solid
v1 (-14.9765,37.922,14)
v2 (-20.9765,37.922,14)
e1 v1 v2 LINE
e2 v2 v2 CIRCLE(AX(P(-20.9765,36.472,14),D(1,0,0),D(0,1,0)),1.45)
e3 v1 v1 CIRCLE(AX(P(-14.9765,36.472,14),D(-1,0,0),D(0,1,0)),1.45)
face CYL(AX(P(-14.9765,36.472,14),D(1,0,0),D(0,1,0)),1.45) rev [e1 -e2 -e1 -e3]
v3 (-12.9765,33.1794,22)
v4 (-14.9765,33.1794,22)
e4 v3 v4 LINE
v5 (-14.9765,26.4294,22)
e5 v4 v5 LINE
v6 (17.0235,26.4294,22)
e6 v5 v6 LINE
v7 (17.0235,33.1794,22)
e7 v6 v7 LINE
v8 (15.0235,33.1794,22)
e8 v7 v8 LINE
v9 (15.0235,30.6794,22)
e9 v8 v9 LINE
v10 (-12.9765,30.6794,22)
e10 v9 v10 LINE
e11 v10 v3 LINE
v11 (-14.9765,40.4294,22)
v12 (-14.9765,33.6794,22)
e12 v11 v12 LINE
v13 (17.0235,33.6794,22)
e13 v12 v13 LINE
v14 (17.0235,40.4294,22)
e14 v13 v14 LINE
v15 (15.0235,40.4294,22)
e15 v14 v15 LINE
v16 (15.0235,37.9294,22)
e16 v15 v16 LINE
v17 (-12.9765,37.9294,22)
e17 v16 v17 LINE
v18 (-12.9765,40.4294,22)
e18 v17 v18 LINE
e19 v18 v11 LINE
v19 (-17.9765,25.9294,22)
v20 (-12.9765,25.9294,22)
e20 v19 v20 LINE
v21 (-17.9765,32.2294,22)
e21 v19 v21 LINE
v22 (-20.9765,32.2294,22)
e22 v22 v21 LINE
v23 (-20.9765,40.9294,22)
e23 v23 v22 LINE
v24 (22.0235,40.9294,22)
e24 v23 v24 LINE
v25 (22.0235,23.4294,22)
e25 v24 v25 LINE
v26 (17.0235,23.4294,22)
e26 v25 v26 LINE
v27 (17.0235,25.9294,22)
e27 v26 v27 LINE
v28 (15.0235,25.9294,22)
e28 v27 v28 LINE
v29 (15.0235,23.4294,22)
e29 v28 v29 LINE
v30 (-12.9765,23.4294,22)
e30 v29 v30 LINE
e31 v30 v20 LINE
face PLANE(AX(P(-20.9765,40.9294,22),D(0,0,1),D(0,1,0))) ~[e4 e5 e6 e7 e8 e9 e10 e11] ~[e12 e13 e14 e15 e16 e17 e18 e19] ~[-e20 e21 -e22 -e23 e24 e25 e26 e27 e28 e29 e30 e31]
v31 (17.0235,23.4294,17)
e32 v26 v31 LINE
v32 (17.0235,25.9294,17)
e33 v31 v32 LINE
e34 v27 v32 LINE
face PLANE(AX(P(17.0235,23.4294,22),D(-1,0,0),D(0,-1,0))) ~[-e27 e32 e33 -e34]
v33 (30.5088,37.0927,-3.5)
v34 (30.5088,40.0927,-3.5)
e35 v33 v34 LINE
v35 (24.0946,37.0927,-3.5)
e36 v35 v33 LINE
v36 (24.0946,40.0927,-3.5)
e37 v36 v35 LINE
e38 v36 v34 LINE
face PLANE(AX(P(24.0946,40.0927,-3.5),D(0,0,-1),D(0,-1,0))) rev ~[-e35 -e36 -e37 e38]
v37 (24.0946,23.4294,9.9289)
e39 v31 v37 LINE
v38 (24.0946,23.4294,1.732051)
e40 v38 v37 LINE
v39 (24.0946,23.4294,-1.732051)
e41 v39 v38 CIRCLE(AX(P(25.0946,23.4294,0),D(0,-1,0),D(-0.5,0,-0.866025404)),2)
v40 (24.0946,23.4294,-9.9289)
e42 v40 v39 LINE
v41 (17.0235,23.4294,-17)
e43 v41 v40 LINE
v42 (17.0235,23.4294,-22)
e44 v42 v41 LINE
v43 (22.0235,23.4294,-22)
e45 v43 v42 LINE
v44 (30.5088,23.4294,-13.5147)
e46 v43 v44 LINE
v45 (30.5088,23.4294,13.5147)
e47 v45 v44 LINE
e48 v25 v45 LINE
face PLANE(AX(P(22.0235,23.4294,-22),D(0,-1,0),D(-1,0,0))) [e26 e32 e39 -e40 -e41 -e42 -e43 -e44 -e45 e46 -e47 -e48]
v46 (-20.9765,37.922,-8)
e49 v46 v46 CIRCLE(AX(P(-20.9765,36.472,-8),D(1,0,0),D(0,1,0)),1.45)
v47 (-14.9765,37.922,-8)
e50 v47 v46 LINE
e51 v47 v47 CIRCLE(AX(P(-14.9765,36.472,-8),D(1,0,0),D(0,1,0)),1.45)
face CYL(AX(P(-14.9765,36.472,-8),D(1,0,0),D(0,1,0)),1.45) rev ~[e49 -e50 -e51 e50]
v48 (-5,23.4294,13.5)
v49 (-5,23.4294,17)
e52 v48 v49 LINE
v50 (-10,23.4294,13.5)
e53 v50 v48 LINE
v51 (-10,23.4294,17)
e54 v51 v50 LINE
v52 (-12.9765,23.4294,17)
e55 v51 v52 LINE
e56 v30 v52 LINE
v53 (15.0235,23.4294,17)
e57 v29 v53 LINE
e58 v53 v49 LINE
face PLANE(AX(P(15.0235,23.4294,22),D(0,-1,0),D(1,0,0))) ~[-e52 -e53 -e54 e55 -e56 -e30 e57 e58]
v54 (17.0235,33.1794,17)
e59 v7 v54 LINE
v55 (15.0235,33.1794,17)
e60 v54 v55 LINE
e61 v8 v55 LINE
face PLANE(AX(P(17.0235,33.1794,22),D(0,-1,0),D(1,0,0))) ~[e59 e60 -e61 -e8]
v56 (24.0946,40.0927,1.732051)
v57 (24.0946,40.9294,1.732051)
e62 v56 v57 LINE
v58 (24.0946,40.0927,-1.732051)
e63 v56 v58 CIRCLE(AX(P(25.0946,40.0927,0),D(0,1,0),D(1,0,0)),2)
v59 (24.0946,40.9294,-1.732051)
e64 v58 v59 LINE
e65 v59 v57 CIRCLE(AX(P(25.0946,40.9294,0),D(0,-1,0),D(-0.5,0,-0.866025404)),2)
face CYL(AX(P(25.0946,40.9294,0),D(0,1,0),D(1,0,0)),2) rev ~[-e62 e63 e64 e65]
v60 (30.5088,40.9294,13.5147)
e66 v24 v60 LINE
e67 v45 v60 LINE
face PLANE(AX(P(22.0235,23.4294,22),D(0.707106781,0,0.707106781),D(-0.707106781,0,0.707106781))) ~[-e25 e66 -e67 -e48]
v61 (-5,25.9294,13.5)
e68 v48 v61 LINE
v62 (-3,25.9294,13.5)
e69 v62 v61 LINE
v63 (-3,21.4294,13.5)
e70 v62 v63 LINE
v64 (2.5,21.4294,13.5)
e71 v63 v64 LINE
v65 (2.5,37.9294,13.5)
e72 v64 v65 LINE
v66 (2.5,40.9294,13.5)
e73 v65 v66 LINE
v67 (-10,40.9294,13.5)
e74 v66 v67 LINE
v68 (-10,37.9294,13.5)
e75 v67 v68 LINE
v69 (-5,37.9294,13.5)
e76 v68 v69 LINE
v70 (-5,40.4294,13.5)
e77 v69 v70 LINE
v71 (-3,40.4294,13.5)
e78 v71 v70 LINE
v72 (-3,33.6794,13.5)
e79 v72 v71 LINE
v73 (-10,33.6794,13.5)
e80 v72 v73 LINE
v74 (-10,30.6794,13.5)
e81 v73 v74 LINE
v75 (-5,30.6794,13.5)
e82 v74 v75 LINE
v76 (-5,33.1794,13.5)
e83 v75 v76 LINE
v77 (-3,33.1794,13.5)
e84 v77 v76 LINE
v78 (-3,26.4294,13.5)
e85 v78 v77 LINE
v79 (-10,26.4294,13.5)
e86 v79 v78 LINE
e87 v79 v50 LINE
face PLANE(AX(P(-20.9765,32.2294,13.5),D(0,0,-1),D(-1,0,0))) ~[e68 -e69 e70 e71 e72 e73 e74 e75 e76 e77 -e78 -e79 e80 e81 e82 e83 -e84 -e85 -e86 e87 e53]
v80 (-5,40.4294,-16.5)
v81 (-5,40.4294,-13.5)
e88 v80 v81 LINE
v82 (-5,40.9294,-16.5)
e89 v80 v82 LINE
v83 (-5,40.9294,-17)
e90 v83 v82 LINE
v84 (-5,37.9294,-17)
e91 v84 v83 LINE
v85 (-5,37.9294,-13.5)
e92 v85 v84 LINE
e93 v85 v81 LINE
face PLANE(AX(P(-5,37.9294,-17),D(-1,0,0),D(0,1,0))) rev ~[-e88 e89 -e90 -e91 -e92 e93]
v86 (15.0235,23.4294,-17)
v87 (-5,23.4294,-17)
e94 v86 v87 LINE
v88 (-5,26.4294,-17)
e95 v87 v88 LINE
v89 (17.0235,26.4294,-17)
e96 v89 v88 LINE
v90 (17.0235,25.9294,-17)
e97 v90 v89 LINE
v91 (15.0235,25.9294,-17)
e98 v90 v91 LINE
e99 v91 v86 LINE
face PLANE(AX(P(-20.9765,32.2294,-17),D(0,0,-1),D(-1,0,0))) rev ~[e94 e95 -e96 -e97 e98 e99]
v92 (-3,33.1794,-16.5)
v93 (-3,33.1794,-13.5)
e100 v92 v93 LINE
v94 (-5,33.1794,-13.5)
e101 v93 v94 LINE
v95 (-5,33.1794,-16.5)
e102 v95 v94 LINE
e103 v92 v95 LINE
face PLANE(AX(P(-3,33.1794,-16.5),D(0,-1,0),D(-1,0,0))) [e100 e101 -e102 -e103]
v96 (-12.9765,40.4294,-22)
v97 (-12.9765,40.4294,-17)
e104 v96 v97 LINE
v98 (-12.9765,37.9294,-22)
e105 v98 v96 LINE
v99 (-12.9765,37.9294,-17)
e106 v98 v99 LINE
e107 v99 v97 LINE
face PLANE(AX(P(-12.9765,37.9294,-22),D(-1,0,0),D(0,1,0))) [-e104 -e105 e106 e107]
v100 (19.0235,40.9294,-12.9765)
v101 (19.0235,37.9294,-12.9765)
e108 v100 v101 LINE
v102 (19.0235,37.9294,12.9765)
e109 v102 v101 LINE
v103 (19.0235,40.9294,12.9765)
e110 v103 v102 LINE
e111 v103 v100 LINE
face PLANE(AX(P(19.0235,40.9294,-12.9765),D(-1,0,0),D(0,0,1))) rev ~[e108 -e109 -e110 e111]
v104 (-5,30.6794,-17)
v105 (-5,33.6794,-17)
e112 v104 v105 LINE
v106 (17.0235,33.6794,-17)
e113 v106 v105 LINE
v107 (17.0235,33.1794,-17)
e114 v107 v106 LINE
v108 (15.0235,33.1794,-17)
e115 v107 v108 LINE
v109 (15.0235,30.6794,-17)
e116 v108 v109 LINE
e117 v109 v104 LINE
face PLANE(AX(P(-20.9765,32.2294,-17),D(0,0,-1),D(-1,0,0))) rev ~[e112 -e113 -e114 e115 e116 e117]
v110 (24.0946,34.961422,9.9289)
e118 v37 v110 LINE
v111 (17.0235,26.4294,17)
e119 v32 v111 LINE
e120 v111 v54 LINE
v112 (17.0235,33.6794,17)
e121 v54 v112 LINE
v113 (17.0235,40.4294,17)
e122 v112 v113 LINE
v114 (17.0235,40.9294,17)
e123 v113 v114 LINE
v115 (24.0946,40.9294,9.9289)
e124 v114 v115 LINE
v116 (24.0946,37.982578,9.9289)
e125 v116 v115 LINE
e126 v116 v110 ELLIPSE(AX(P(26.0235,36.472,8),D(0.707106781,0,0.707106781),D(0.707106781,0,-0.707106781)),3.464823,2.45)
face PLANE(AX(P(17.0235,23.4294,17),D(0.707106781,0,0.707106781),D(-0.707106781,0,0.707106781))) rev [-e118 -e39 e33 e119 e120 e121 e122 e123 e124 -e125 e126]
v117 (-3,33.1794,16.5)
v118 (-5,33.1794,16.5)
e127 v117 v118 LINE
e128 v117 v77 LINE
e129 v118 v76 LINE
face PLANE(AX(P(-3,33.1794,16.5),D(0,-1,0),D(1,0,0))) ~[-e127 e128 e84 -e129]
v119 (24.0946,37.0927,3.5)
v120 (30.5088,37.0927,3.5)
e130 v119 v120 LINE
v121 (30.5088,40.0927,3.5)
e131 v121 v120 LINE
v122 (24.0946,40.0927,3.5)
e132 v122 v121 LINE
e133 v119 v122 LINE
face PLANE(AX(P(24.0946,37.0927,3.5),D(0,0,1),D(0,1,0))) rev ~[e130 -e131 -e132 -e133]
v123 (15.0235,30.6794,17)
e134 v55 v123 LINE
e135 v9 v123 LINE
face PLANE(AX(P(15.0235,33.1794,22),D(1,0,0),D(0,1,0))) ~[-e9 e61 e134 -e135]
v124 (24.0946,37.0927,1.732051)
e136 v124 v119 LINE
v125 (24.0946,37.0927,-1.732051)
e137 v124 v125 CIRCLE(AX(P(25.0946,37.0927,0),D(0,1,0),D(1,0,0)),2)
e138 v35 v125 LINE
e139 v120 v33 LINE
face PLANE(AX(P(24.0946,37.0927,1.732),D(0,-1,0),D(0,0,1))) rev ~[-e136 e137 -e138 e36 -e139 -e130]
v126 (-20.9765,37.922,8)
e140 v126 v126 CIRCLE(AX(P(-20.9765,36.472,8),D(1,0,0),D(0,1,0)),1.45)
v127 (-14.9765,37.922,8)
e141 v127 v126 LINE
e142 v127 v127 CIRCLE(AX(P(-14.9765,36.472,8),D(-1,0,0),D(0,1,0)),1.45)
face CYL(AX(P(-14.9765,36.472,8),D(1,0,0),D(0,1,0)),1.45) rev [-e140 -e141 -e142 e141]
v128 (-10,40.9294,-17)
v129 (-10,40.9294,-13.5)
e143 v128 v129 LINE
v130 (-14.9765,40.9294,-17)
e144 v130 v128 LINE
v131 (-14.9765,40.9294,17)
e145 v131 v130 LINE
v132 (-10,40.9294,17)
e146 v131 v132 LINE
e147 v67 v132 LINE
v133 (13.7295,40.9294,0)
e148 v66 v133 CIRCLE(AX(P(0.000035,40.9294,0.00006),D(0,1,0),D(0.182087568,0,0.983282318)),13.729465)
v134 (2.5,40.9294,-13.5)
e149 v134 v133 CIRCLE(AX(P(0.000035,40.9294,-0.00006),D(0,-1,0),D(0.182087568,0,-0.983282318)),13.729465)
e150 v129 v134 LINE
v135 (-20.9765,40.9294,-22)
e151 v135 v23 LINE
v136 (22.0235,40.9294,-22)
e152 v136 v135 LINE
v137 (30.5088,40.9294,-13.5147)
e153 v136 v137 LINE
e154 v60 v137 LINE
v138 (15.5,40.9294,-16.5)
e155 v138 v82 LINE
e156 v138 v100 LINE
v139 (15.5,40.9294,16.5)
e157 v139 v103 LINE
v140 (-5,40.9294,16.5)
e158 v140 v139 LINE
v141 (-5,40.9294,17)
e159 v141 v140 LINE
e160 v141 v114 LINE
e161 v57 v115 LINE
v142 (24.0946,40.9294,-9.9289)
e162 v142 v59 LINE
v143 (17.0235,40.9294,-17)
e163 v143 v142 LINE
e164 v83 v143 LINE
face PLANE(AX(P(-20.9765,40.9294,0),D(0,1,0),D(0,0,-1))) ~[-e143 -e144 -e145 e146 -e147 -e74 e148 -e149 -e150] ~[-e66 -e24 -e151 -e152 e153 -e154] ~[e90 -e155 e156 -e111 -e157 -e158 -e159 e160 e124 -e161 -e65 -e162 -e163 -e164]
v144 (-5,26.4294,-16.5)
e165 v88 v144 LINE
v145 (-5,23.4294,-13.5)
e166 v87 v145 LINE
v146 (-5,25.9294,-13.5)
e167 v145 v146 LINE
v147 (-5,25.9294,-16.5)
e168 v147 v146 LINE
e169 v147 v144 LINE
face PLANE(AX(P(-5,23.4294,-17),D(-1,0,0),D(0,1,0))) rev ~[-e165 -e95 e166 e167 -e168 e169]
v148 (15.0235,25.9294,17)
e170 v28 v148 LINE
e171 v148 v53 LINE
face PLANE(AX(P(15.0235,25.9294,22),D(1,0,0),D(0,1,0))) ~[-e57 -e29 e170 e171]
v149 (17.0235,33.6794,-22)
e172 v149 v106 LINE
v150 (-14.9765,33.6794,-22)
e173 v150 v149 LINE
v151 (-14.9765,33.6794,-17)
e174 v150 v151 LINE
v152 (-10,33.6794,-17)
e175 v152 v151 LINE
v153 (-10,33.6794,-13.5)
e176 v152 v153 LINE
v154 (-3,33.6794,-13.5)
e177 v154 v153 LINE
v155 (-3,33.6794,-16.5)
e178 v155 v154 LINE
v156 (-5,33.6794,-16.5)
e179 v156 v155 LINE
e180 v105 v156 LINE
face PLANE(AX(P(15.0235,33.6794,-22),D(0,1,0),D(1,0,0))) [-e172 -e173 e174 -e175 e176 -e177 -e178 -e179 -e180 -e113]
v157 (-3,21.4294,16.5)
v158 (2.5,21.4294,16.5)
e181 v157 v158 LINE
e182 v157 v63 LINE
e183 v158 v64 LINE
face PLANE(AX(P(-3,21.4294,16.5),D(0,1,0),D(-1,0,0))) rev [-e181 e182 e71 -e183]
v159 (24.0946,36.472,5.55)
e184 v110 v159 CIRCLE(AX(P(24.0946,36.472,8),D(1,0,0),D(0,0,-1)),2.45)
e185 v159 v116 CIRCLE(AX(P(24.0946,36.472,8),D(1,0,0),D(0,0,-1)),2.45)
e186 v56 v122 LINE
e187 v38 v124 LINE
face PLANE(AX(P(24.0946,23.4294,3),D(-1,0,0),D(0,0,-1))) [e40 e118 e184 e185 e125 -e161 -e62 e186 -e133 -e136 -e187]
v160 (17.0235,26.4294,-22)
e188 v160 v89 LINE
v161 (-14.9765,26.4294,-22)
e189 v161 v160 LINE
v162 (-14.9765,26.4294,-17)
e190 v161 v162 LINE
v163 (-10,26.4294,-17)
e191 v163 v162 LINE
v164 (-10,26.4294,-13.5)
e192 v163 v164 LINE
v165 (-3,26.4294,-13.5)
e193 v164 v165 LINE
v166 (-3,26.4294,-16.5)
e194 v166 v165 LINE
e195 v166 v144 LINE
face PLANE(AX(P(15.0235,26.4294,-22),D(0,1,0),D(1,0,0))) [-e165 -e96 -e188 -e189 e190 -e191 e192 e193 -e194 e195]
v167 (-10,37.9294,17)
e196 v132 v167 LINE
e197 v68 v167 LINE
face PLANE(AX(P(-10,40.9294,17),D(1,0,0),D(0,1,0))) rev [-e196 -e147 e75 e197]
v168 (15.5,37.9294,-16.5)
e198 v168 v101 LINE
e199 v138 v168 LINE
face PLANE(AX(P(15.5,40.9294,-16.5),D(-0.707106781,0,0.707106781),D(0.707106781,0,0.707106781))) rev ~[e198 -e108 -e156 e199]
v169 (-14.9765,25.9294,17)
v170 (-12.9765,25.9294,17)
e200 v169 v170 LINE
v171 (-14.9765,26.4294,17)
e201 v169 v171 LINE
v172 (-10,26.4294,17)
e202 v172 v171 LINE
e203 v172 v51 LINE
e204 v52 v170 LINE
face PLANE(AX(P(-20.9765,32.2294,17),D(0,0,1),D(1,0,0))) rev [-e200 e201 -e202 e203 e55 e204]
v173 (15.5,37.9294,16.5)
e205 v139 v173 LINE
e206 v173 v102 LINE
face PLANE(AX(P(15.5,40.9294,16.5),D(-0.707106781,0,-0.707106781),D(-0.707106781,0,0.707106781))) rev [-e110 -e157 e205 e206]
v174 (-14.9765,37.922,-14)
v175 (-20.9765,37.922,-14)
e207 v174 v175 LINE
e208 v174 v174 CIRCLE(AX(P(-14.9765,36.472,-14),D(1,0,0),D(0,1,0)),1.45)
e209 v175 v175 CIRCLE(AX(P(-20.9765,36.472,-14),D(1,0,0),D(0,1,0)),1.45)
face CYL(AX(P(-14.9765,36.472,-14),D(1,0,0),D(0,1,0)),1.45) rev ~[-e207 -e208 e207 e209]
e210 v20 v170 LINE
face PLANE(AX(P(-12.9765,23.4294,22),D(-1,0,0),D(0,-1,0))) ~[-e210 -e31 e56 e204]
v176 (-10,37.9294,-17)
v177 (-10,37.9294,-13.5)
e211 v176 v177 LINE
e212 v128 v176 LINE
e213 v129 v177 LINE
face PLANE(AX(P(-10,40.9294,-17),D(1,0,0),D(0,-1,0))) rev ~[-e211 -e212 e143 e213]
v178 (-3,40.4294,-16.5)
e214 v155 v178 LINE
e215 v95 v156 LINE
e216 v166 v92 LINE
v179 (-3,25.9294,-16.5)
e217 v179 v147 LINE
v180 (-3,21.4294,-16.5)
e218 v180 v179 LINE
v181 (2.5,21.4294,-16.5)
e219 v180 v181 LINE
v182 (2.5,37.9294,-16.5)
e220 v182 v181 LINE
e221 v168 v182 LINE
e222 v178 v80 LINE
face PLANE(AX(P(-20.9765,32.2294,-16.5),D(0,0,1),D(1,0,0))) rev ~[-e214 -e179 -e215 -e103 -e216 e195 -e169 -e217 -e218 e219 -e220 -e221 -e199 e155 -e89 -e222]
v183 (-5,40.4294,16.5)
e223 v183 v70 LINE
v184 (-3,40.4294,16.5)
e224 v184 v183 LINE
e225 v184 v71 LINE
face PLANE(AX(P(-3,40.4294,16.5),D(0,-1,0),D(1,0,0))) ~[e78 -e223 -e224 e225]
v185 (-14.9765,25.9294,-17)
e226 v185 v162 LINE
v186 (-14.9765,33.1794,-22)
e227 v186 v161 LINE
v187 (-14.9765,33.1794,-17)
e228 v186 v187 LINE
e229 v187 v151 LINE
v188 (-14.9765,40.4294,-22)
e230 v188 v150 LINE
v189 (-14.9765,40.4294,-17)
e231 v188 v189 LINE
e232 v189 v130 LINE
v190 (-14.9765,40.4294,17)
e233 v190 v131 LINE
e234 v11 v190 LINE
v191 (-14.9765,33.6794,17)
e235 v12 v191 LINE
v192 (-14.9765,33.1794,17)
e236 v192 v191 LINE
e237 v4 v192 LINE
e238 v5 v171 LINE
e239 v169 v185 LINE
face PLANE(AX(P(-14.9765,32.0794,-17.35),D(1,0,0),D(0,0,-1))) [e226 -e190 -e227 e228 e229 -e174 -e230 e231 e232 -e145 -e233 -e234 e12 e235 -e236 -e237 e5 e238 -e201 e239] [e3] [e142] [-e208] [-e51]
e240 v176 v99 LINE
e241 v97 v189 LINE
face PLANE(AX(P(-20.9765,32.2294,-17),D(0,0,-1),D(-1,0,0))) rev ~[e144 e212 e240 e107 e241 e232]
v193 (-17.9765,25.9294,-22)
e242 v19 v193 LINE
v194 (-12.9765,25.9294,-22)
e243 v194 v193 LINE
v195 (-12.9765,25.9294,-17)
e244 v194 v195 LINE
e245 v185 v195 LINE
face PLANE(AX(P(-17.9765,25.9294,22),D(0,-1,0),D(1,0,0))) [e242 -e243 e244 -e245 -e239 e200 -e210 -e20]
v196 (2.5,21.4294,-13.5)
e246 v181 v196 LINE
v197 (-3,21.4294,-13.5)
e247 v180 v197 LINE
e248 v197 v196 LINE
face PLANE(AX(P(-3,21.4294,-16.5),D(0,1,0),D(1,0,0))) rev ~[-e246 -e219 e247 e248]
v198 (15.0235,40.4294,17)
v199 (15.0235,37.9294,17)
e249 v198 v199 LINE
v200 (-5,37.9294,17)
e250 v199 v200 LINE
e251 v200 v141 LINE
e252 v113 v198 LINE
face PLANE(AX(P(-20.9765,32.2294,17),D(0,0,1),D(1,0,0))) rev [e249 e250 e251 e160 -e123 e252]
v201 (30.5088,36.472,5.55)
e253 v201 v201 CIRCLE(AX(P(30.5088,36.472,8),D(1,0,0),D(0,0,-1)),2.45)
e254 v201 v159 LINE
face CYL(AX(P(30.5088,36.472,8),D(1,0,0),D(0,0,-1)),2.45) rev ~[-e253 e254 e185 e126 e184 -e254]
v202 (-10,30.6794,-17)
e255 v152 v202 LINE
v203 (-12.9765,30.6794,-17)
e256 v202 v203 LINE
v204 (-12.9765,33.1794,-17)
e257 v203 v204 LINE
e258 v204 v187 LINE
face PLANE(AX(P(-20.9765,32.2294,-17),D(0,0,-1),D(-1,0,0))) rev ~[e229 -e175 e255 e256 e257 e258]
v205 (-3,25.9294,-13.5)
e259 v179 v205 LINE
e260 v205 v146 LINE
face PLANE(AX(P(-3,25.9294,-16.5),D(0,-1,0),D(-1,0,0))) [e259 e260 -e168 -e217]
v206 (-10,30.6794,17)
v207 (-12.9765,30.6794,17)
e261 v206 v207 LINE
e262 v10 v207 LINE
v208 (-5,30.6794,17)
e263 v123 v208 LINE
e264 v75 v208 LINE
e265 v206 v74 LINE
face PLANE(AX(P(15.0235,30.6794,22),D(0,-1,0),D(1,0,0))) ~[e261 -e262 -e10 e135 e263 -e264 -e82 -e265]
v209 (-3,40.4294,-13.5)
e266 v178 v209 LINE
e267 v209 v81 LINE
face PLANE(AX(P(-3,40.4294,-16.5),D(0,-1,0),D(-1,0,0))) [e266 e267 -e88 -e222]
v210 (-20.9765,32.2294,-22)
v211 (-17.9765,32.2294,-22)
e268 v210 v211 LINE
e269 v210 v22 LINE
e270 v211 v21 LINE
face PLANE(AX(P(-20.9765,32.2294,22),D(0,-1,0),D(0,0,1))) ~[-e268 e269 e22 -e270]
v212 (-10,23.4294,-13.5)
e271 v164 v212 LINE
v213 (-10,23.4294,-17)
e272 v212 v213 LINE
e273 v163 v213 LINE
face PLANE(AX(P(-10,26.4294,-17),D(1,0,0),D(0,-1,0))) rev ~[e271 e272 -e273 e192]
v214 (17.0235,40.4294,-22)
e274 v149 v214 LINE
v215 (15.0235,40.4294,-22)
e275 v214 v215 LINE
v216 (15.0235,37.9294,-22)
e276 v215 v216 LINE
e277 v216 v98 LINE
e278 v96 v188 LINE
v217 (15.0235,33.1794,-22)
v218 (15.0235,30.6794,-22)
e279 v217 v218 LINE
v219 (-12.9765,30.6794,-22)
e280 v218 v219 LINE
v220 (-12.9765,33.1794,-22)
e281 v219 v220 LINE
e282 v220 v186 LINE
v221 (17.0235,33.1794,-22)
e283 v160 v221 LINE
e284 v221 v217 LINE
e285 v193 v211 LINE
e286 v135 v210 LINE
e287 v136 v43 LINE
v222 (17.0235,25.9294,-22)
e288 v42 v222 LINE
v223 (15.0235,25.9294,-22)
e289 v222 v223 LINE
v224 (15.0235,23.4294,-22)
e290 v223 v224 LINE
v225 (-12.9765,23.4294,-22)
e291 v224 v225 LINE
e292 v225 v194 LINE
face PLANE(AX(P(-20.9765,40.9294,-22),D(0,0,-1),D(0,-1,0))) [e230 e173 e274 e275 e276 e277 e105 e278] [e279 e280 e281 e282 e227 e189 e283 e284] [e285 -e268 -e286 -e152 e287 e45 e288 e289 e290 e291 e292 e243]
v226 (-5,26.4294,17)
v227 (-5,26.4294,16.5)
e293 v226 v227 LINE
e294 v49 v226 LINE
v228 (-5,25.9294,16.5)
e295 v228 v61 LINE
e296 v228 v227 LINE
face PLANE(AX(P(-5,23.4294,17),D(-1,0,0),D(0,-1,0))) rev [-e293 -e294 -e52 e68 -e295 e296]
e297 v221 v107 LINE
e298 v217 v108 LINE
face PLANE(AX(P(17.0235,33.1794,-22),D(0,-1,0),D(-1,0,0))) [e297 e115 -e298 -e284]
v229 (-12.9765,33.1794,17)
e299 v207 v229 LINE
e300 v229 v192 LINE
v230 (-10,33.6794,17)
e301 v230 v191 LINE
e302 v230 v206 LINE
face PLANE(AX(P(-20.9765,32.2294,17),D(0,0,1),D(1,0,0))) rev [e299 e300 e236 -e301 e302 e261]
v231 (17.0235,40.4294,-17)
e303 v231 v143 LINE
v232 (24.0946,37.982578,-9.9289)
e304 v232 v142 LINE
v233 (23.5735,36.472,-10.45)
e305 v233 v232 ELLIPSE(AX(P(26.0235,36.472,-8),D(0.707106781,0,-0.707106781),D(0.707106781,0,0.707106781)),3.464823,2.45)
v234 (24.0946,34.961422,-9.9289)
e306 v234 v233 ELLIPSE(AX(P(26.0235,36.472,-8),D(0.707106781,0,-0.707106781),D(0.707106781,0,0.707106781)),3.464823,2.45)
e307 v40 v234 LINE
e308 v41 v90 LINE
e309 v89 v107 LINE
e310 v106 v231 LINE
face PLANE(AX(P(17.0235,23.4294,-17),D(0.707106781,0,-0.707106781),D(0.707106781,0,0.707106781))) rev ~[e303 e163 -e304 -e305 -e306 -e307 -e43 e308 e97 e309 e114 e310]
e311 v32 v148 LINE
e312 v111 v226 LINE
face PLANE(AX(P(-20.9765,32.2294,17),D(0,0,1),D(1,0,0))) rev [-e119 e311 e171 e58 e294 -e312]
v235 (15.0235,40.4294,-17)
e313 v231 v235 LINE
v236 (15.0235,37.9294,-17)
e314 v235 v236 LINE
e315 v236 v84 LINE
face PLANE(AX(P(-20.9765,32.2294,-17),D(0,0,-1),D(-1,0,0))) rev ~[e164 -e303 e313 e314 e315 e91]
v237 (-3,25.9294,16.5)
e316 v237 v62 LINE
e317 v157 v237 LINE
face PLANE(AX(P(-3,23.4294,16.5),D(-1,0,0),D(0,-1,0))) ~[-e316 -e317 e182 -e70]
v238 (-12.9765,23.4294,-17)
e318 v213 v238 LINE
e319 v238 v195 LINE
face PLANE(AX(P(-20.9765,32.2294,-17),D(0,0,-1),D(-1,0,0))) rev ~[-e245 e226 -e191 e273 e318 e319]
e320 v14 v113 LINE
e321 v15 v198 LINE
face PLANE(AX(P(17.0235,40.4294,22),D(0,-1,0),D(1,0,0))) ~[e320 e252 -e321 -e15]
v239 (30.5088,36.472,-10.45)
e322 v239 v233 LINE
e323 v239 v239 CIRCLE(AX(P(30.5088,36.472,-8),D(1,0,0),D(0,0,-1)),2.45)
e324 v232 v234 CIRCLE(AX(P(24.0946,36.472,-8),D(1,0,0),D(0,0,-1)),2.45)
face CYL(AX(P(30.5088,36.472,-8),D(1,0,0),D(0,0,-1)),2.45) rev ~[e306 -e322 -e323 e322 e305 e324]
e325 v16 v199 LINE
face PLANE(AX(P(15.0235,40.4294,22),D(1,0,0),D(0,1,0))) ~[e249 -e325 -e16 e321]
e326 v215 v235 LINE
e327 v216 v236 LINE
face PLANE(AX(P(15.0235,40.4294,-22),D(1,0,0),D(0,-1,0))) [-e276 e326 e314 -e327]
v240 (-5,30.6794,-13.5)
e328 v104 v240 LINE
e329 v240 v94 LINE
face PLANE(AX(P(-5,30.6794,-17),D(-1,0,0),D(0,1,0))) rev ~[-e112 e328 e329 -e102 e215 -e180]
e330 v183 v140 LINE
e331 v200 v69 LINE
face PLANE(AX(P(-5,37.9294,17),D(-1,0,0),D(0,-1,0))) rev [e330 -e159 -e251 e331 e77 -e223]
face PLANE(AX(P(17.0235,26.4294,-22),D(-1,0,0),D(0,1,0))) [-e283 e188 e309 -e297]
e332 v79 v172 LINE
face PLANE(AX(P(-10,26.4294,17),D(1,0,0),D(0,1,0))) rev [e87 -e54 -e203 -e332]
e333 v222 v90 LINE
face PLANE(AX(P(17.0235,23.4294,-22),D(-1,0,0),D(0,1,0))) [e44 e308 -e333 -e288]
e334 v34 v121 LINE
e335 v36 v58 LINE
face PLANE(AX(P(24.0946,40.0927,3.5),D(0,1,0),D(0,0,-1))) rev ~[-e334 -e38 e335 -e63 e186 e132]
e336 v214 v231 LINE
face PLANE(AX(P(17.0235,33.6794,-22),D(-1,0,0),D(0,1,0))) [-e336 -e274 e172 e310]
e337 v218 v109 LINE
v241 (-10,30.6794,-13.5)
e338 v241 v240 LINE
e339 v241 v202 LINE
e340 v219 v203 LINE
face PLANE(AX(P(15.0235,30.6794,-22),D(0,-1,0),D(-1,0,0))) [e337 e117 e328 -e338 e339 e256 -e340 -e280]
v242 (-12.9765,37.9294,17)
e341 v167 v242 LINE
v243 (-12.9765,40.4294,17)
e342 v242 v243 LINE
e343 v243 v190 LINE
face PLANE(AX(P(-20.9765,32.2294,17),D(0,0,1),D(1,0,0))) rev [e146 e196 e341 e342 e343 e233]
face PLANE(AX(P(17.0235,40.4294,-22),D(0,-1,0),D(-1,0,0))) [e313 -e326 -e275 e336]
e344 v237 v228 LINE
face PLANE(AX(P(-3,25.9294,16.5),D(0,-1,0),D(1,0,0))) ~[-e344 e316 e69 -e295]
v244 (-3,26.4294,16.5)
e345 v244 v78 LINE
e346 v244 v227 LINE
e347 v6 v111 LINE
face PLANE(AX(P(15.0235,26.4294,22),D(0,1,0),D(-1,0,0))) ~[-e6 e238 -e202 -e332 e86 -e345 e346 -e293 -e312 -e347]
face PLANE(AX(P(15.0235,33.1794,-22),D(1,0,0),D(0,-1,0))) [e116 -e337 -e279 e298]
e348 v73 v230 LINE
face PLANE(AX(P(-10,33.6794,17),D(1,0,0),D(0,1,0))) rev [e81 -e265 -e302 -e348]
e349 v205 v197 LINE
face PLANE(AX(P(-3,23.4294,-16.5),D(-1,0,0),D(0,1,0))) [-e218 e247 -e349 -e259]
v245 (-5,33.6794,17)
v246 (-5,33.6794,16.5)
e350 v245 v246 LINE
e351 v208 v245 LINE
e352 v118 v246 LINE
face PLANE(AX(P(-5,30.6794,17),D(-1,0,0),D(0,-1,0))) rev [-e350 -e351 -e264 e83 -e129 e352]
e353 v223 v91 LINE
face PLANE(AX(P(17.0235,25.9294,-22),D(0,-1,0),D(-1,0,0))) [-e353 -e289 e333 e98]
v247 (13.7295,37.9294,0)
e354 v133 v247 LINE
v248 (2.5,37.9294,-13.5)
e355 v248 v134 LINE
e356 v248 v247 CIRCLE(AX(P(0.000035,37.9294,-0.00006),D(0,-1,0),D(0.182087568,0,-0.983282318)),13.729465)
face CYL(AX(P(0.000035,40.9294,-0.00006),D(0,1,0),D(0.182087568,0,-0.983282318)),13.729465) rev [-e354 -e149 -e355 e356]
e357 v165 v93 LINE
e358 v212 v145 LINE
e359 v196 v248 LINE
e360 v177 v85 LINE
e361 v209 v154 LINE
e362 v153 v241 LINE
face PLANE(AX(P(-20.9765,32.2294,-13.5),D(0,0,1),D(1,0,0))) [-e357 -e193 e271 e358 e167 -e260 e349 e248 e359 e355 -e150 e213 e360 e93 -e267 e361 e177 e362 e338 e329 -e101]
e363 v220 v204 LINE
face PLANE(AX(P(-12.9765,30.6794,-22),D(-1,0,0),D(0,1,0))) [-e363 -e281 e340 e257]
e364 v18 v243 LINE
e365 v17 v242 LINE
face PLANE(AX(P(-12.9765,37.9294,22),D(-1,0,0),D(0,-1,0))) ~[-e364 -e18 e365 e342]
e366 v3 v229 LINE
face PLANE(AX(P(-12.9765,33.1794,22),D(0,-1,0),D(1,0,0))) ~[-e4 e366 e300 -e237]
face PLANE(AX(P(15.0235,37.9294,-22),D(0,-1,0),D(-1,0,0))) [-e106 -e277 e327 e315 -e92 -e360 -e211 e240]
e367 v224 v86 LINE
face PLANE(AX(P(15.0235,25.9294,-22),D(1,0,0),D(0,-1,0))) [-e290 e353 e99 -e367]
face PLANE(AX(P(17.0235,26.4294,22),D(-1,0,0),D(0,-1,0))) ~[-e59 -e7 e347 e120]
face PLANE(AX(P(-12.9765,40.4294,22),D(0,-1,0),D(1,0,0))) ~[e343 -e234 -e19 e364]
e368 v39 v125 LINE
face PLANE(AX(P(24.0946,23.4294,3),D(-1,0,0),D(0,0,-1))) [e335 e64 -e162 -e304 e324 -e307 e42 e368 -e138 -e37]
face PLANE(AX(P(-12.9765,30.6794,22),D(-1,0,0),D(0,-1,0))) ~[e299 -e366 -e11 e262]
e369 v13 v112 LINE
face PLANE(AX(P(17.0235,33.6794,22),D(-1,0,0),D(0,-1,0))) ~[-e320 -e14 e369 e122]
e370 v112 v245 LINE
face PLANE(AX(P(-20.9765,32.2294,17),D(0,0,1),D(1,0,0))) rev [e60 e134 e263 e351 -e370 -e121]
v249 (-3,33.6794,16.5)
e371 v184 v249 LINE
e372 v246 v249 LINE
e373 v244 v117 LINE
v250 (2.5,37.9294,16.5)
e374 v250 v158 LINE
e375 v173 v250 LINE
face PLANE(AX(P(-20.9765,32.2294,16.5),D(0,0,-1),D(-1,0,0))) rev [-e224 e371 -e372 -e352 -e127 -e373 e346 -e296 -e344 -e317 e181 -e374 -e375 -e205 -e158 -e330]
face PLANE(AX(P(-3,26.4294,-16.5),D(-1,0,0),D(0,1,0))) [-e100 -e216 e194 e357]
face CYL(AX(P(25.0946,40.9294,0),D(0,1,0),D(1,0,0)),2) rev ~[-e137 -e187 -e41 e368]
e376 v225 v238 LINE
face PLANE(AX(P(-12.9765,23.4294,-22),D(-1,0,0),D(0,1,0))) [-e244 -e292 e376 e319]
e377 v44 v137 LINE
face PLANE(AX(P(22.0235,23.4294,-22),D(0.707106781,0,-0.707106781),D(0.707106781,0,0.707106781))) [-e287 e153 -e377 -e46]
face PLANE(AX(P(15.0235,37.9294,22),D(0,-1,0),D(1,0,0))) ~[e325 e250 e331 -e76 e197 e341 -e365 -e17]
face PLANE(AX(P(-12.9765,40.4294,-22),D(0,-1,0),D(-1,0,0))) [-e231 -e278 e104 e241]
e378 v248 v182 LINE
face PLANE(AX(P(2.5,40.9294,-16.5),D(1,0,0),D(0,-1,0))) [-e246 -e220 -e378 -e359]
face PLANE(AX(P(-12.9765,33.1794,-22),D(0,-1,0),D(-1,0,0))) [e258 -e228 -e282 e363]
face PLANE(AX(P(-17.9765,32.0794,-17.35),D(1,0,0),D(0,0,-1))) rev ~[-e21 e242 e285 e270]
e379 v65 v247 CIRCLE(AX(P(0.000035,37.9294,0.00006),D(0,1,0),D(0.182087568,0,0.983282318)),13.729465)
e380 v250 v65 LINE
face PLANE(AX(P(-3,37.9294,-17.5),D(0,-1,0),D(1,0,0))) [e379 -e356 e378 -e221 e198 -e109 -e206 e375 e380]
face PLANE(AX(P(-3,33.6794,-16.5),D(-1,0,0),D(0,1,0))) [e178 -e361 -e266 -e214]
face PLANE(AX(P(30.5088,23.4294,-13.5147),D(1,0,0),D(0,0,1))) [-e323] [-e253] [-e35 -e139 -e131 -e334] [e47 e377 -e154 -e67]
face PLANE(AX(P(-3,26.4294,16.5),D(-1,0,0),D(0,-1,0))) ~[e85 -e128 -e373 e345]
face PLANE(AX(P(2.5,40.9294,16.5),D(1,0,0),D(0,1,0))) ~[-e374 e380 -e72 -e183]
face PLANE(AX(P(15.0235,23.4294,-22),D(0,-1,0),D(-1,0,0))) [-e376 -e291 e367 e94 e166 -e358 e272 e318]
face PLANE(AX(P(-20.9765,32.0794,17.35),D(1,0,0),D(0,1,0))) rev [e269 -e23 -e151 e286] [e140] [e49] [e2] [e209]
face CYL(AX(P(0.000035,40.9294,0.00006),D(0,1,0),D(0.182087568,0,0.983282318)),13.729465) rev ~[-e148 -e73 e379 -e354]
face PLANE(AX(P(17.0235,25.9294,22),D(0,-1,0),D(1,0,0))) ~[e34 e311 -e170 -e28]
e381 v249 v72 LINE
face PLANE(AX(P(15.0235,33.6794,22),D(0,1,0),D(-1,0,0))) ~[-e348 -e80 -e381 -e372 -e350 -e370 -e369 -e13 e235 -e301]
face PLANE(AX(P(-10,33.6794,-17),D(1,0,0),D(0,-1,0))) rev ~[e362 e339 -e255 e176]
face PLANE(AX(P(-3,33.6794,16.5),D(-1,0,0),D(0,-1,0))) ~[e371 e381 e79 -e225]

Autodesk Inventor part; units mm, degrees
ref_plane "YZ Plane" through (0, 0, 0) normal (1, 0, 0) x (0, 1, 0)
ref_plane "XZ Plane" through (0, 0, 0) normal (0, 1, 0) x (-1, 0, 0)
ref_plane "XY Plane" through (0, 0, 0) normal (0, 0, 1) x (1, 0, 0)
ref_plane "Work Plane1" through (-20.9765, 40.8646, -17.35) normal (-1, 0, 0) x (0, 1, 0)
sketch "Sketch1" plane through (-20.9765, 32.0794, -17.35) normal (1, 0, 0) x (0, -1, 0)
  line L0 (2.0794, -30.35) -> (-37.9206, -30.35)
  line L1 (2.0794, -30.35) -> (-37.9206, -30.35) construction
  line L2 (2.0794, -4.35) -> (-37.9206, -4.35) construction
  line L3 (-55.6353, -17.35) -> (78.0542, -17.35) construction
  circle A0 centre (-4.5, -4.35) radius 3.25 construction
  circle A1 centre (-4.5, -30.35) radius 3.25 construction
  line L4 (0, -36) -> (-9, -36) construction
  line L5 (0, 0) -> (0, -36) construction
  line L6 (-9, 0) -> (0, 0) construction
  line L7 (-9, 0) -> (-9, -36) construction
  line L8 (-0.15, -17.35) -> (-8.85, -17.35)
  line L9 (-8.85, -17.35) -> (-8.85, 4.65)
  line L10 (-8.85, 4.65) -> (-0.15, 4.65)
  line L11 (-0.15, 4.65) -> (-0.15, -17.35)
  point P0 (32.0794, -17.35)
  dimension "d0" = 22
  dimension "d1" = 0.15
  dimension "d2" = 0.15
extrude "Extrusion1" add sketch "Sketch1" along normal blind 4
sketch "Sketch2" plane through (-16.9765, 32.0794, -17.35) normal (1, 0, 0) x (0, 0, -1)
  line L0 (-17.35, 8.85) -> (-17.35, 0.15) projected
  line L1 (-17.35, 0.15) -> (4.65, 0.15) projected
  line L2 (4.65, 0.15) -> (4.65, 8.85) projected
  line L3 (4.65, 8.85) -> (-17.35, 8.85) projected
  line L4 (4.65, 0.15) -> (4.65, 8.85) projected
  line L5 (4.65, 8.85) -> (-17.35, 8.85)
  line L6 (-17.35, 8.85) -> (-17.35, -13.8794)
  line L7 (-17.35, -13.8794) -> (4.65, -13.8794)
  line L8 (4.65, -13.8794) -> (4.65, 8.85)
  line L9 (-32, -17.0794) -> (0, -17.0794) projected
  line L10 (-32, -14.0794) -> (0, -14.0794) projected
  point P0 (-17.35, -32.0794)
  dimension "d47" = 0.2
extrude "Extrusion2" add sketch "Sketch2" along normal blind 2 and the other way blind 1
sketch "Sketch3" plane through (-20.9765, 32.2294, -22) normal (0, 0, -1) x (-1, 0, 0)
  line L0 (0, 8.7) -> (0, 0) projected
  line L1 (0, 8.7) -> (-6, 8.7) projected
  line L2 (-6, -14.0294) -> (-6, 8.7) projected
  line L3 (-3, -14.0294) -> (-6, -14.0294) projected
  line L4 (-3, 0) -> (-3, -14.0294) projected
  line L5 (0, 0) -> (-3, 0) projected
  line L6 (-6, 8.7) -> (-8, 8.7)
  line L7 (-8, 8.7) -> (-8, 8.2)
  line L8 (-8, 8.2) -> (-6, 8.2)
  line L9 (-6, 8.2) -> (-6, 8.7)
  line L10 (-6, 1.45) -> (-8, 1.45)
  line L11 (-8, 1.45) -> (-8, 0.95)
  line L12 (-8, 0.95) -> (-6, 0.95)
  line L13 (-6, 0.95) -> (-6, 1.45)
  line L14 (-8, -6.3) -> (-8, -5.8)
  line L15 (-6, -13.5294) -> (-6, -14.0294)
  line L16 (-8, 8.7) -> (-36, 8.7)
  line L17 (-36, 8.7) -> (-36, 5.7)
  line L18 (-36, 5.7) -> (-8, 5.7)
  line L19 (-8, 5.7) -> (-8, 8.7)
  line L20 (-8, 1.45) -> (-36, 1.45)
  line L21 (-36, 1.45) -> (-36, -1.55)
  line L22 (-36, -1.55) -> (-8, -1.55)
  line L23 (-8, -1.55) -> (-8, 1.45)
  line L24 (-8, -5.8) -> (-36, -5.8)
  line L25 (-36, -5.8) -> (-36, -8.8)
  line L26 (-36, -8.8) -> (-8, -8.8)
  line L27 (-8, -8.8) -> (-8, -5.8)
  line L28 (-36, -5.8) -> (-38, -5.8)
  line L29 (-38, -5.8) -> (-38, -6.3)
  line L30 (-38, -6.3) -> (-36, -6.3)
  line L31 (-36, -6.3) -> (-36, -5.8)
  line L32 (-36, 1.45) -> (-38, 1.45)
  line L33 (-38, 1.45) -> (-38, 0.95)
  line L34 (-38, 0.95) -> (-36, 0.95)
  line L35 (-36, 0.95) -> (-36, 1.45)
  line L36 (-36, 8.7) -> (-38, 8.7)
  line L37 (-38, 8.7) -> (-38, 8.2)
  line L38 (-38, 8.2) -> (-36, 8.2)
  line L39 (-36, 8.2) -> (-36, 8.7)
  line L40 (-38, 8.7) -> (-43, 8.7)
  line L41 (-43, 8.7) -> (-43, -8.8)
  line L42 (-43, -8.8) -> (-38, -8.8)
  line L43 (-38, -8.8) -> (-38, 8.7)
  line L44 (-8, -5.8) -> (-6, -5.8)
  line L45 (-6, -5.8) -> (-6, -6.3)
  line L46 (-6, -6.3) -> (-8, -6.3)
  line L47 (-8, -6.3) -> (-8, -5.8)
  point P0 (-20.9765, -32.2294)
  dimension "d8" = 2
  dimension "d9" = 0.5
  dimension "d10" = 2
  dimension "d11" = 0.5
  dimension "d12" = 0.5
  dimension "d13" = 7.25
  dimension "d14" = 28
  dimension "d15" = 3
  dimension "d16" = 28
  dimension "d17" = 3
  dimension "d18" = 28
  dimension "d19" = 3
  dimension "d20" = 2
  dimension "d21" = 0.5
  dimension "d22" = 2
  dimension "d23" = 0.5
  dimension "d24" = 0.5
  dimension "d25" = 5
  dimension "d48" = 14.5
extrude "Extrusion3" add sketch "Sketch3" against normal blind 5 contours L2 L8 L7 L6 | L7 L19 L18 L17 L16 | L2 L12 L11 L10 | L17 L38 L37 L36 | L11 L23 L22 L21 L20 | L37 L43 L33 L29 L42 L41 L40 | L2 L46 L14 L44 | L21 L34 L33 L32 | L14 L27 L26 L25 L24 | L25 L30 L29 L28
sketch "Sketch4" plane through (-20.9765, 32.2294, -17) normal (0, 0, 1) x (1, 0, 0)
  line L0 (23.4765, -14.7269) -> (23.4765, -52.3718) construction
  line L1 (18.4765, -14.7269) -> (18.4765, -47.4664) construction
  line L2 (20.9765, -32.2294) -> (20.9765, -11.9231) construction
  line L3 (6, -6.3) -> (6, -5.8) construction
  line L4 (8, -6.3) -> (8, -8.8) construction
  line L5 (8, -8.8) -> (36, -8.8) construction
  line L6 (36, -8.8) -> (36, -6.3) construction
  line L7 (36, -6.3) -> (38, -6.3) construction
  line L8 (38, -6.3) -> (38, -8.8) construction
  line L9 (38, -8.8) -> (43, -8.8) construction
  line L10 (43, -8.8) -> (43, 8.7) construction
  line L11 (43, 8.7) -> (6, 8.7) construction
  line L12 (6, 8.2) -> (6, 8.7) construction
  line L13 (6, 8.2) -> (8, 8.2) construction
  line L14 (8, 8.2) -> (8, 5.7) construction
  line L15 (8, 5.7) -> (36, 5.7) construction
  line L16 (36, 5.7) -> (36, 8.2) construction
  line L17 (36, 8.2) -> (38, 8.2) construction
  line L18 (38, 8.2) -> (38, 1.45) construction
  line L19 (38, 1.45) -> (6, 1.45) construction
  line L20 (6, 0.95) -> (6, 1.45) construction
  line L21 (6, 0.95) -> (8, 0.95) construction
  line L22 (8, 0.95) -> (8, -1.55) construction
  line L23 (8, -1.55) -> (36, -1.55) construction
  line L24 (36, -1.55) -> (36, 0.95) construction
  line L25 (36, 0.95) -> (38, 0.95) construction
  line L26 (38, 0.95) -> (38, -5.8) construction
  line L27 (36, -8.8) -> (8, -8.8) construction
  line L28 (10.9765, -8.8) -> (15.9765, -8.8) construction
  line L29 (15.9765, -8.8) -> (15.9765, -5.8) construction
  line L30 (15.9765, -5.8) -> (10.9765, -5.8) construction
  line L31 (10.9765, -5.8) -> (10.9765, -8.8) construction
  line L32 (10.9765, -8.8) -> (15.9765, -8.8)
  line L33 (15.9765, -8.8) -> (15.9765, -5.8)
  line L34 (15.9765, -5.8) -> (10.9765, -5.8)
  line L35 (10.9765, -5.8) -> (10.9765, -8.8)
  line L36 (36, -1.55) -> (8, -1.55) projected
  line L37 (38, 1.45) -> (6, 1.45) projected
  line L38 (10.9765, -1.55) -> (15.9765, -1.55)
  line L39 (15.9765, -1.55) -> (15.9765, 1.45)
  line L40 (15.9765, 1.45) -> (10.9765, 1.45)
  line L41 (10.9765, 1.45) -> (10.9765, -1.55)
  line L42 (36, 5.7) -> (8, 5.7) projected
  line L43 (43, 8.7) -> (6, 8.7) projected
  line L44 (10.9765, 5.7) -> (15.9765, 5.7)
  line L45 (15.9765, 5.7) -> (15.9765, 8.7)
  line L46 (15.9765, 8.7) -> (10.9765, 8.7)
  line L47 (10.9765, 8.7) -> (10.9765, 5.7)
  line L48 (38, -5.8) -> (6, -5.8) projected
  line L49 (6, -6.3) -> (8, -6.3) projected
  line L50 (38, -5.8) -> (6, -5.8) projected
  dimension "d28" = 5
  dimension "d29" = 5
extrude "Extrusion4" add sketch "Sketch4" along normal blind 0.5
sketch "Sketch5" plane through (-20.9765, 32.2294, -16.5) normal (0, 0, 1) x (1, 0, 0)
  line L0 (10.9765, -8.8) -> (15.9765, -8.8) projected
  line L1 (15.9765, -8.8) -> (15.9765, -5.8) projected
  line L2 (15.9765, -5.8) -> (10.9765, -5.8) projected
  line L3 (10.9765, -5.8) -> (10.9765, -8.8) projected
  line L4 (10.9765, -1.55) -> (15.9765, -1.55) projected
  line L5 (15.9765, -1.55) -> (15.9765, 1.45) projected
  line L6 (15.9765, 1.45) -> (10.9765, 1.45) projected
  line L7 (10.9765, 1.45) -> (10.9765, -1.55) projected
  line L8 (10.9765, 5.7) -> (15.9765, 5.7) projected
  line L9 (15.9765, 5.7) -> (15.9765, 8.7) projected
  line L10 (15.9765, 8.7) -> (10.9765, 8.7) projected
  line L11 (10.9765, 8.7) -> (10.9765, 5.7) projected
  line L12 (15.9765, -5.8) -> (17.9765, -5.8)
  line L13 (17.9765, -5.8) -> (17.9765, -6.3)
  line L14 (17.9765, -6.3) -> (15.9765, -6.3)
  line L15 (15.9765, -6.3) -> (15.9765, -5.8)
  line L16 (15.9765, 1.45) -> (17.9765, 1.45)
  line L17 (17.9765, 1.45) -> (17.9765, 0.95)
  line L18 (17.9765, 0.95) -> (15.9765, 0.95)
  line L19 (15.9765, 0.95) -> (15.9765, 1.45)
  line L20 (15.9765, 8.7) -> (17.9765, 8.7)
  line L21 (17.9765, 8.7) -> (17.9765, 8.2)
  line L22 (17.9765, 8.2) -> (15.9765, 8.2)
  line L23 (15.9765, 8.2) -> (15.9765, 8.7)
  line L24 (23.4765, -14.7269) -> (23.4765, -52.3718)
  line L25 (18.4765, -14.7269) -> (18.4765, -47.4664)
  line L26 (36, -8.8) -> (8, -8.8) projected
  line L27 (23.4765, -8.8) -> (17.9765, -8.8)
  line L28 (17.9765, -8.8) -> (17.9765, 8.7)
  line L29 (17.9765, 8.7) -> (23.4765, 8.7)
  line L30 (23.4765, 8.7) -> (23.4765, -8.8)
  line L31 (23.4765, -8.8) -> (17.9765, -8.8)
  line L32 (17.9765, -8.8) -> (17.9765, -10.8)
  line L33 (17.9765, -10.8) -> (23.4765, -10.8)
  line L34 (23.4765, -10.8) -> (23.4765, -8.8)
  point P0 (20.9765, -32.2294)
  dimension "d32" = 2
  dimension "d33" = 0.5
  dimension "d34" = 0.5
  dimension "d35" = 0.5
  dimension "d38" = 2
extrude "Extrusion5" add sketch "Sketch5" along normal blind 3 contours L3 L2 L1 L0 | L1 L12 L13 L14 | L28 L13 L17 L21 L29 L30 L26 | L26 L34 L33 L32 | L18 L5 L16 L17 | L21 L22 L9 L20 | L5 L4 L7 L6 | L9 L8 L11 L10
sketch "Sketch6" plane through (-3, 40.9294, -17.5) normal (0, -1, 0) x (1, 0, 0)
  circle A0 centre (3, 17.5) radius 10 construction
  circle A1 centre (3, 17.5) radius 13 construction
  line L0 (-2, 1) -> (-2, 4) projected
  line L1 (0, 1) -> (0, 4) projected
  line L2 (0, 1) -> (5.5, 1) projected
  line L3 (0, 4) -> (5.5, 4) projected
  line L4 (5.5, 1) -> (5.5, 4) projected
  line L5 (5.5, 1) -> (18.5, 1)
  line L6 (-9.9765, 0.5) -> (18.0235, 0.5) projected
  line L7 (5.5, 1) -> (18.5, 1) construction
  line L8 (0, 1) -> (0, 4) projected
  line L9 (0, 4) -> (-0.165, 4.165)
  line L10 (0, 4) -> (1, 4) construction
  line L11 (0, 4) -> (-7, 4) construction
  line L12 (0, 4.8509) -> (0, 1) construction
  line L13 (-2, 1) -> (0, 1) construction
  line L14 (0, 1) -> (5.5, 1) construction
  line L15 (5.5, 1) -> (18.5, 1)
  line L16 (18.5017, 17.5) -> (16.7295, 17.5)
  line L17 (18.5017, 17.5) -> (16.7295, 17.5)
  line L18 (18.5, 1) -> (22.0235, 4.5235)
  line L19 (18.5, 1) -> (23.483, 1) construction
  line L20 (25.0235, -4.5) -> (25.0235, 0.5) projected
  line L21 (22.0235, 4.5235) -> (22.0235, 17.5)
  line L22 (22.0235, 17.5) -> (18.5017, 17.5)
  line L23 (-8.7686, 17.5) -> (-8.4695, 17.5)
  line L24 (-8.4695, 17.5) -> (-8.4695, 6.7071)
  arc A2 (-8.7686, 17.5) -> (-8.4695, 14.8636) centre (3, 17.5) ccw
  arc A3 (-0.165, 4.165) -> (0, 4.1269) centre (3, 17.5) ccw
  arc A4 (5.5, 4) -> (16.7295, 17.5) centre (3, 17.5) ccw
  point P0 (-2, 0.5)
  point P1 (13, 17.5)
  point P2 (-10, 17.5)
  point P3 (-7, 17.5)
  dimension "d39" = 13
  dimension "d40" = 0
  dimension "d42" = 135
  dimension "d109" = 0
  dimension "d110" = 45
  dimension "d133" = 3
extrude "Extrusion6" add sketch "Sketch6" along normal up to surface (3 mm away) contours L1 L3 L4 L2 | L4 A4 L16 L22 L21 L18 L5
sketch "Sketch8" plane through (17.0235, 23.4294, -22) normal (0, -1, 0) x (1, 0, 0)
  line L0 (5, 0) -> (0, 0) projected
  line L1 (5, 0) -> (5, 5) projected
  line L2 (0, 5) -> (5, 5) projected
  line L3 (0, 0) -> (0, 5) projected
  line L4 (0, 5) -> (7.0711, 12.0711)
  line L5 (0, 5) -> (10, 5) construction
  line L6 (5, 0) -> (13.4853, 8.4853)
  line L7 (5, 0) -> (17, 0) construction
  line L8 (13.4853, 8.4853) -> (13.4853, 25)
  line L9 (13.4853, 25) -> (7.0711, 25)
  line L10 (7.0711, 25) -> (7.0711, 12.0711)
  point P0 (-17.0235, 22)
  point P1 (-1.5235, 25)
  dimension "d_1" = 10
  dimension "d55" = 45
  dimension "d56" = 12
extrude "Extrusion8" add sketch "Sketch8" against normal up to surface (17.5 mm away)
sketch "Sketch21" plane through (-14.9765, 37.9294, 0) normal (1, 0, 0) x (0, 1, 0)
  line L0 (-5.7, -22) -> (-5.7, 0) projected
  line L1 (3, 0) -> (3, -22) projected
  circle A0 centre (-1.4574, -8) radius 1.45
  circle A1 centre (-1.4574, -14) radius 1.45
  line L2 (-5.7, 0) -> (3, 0) projected
  line L3 (3, -22) -> (-5.7, -22) projected
  point P0 (-37.9294, 0)
  dimension "d112" = 2.9
  dimension "d113" = 2.9
  dimension "d114" = 8
  dimension "d115" = 8
extrude "Extrusion20" cut sketch "Sketch21" against normal through all contours A0 | A1
mirror "Mirror3" about plane through (-20.9765, 40.9294, 0) normal (0, 0, 1) of "Extrusion1", "Extrusion2", "Extrusion3", "Extrusion4", "Extrusion5", "Extrusion6", "Extrusion8", "Extrusion20"
sketch "Sketch22" plane through (30.5088, 23.4294, -13.5147) normal (1, 0, 0) x (0, 0, -1)
  circle A0 centre (-5.5147, 13.0426) radius 1.45 projected
  circle A1 centre (-21.5147, 13.0426) radius 1.45 projected
  circle A2 centre (-5.5147, 13.0426) radius 2.45
  circle A3 centre (-21.5147, 13.0426) radius 2.45
  point P0 (-13.5147, -23.4294)
  dimension "d118" = 1
  dimension "d119" = 1
extrude "Extrusion21" cut sketch "Sketch22" against normal blind 10 contours A0 | A1 | A2 | A3
sketch "Sketch23" plane through (-20.9765, 40.9294, -22) normal (0, 1, 0) x (1, 0, 0)
  line L0 (51.4853, -8.4853) -> (51.4853, -35.5147) projected
  line L1 (43, 0) -> (51.4853, -8.4853) projected
  line L2 (0, 0) -> (43, 0) projected
  line L3 (0, -44) -> (0, 0) projected
  line L4 (0, -44) -> (43, -44) projected
  line L5 (43, -44) -> (51.4853, -35.5147) projected
  line L6 (6, -5) -> (6, -39) projected
  line L7 (10.9765, -5) -> (6, -5) projected
  line L8 (10.9765, -5) -> (10.9765, -8.5) projected
  line L9 (10.9765, -39) -> (10.9765, -35.5) projected
  line L10 (10.9765, -39) -> (6, -39) projected
  line L11 (45.0711, -12.0711) -> (45.0711, -31.9289) projected
  line L12 (45.0711, -31.9289) -> (38, -39) projected
  line L13 (38, -39) -> (15.9765, -39) projected
  line L14 (15.9765, -39) -> (15.9765, -38.5) projected
  line L15 (36.4765, -38.5) -> (15.9765, -38.5) projected
  line L16 (36.4765, -5.5) -> (15.9765, -5.5) projected
  line L17 (15.9765, -5) -> (15.9765, -5.5) projected
  line L18 (38, -5) -> (15.9765, -5) projected
  line L19 (45.0711, -12.0711) -> (38, -5) projected
  circle A0 centre (46.0711, -22) radius 2
  line L20 (45.0711, -12.0711) -> (45.0711, -31.9289) projected
  line L21 (40, -34.9765) -> (36.4765, -38.5) projected
  line L22 (40, -34.9765) -> (40, -9.0235) projected
  line L23 (40, -9.0235) -> (36.4765, -5.5) projected
  line L24 (23.4765, -8.5) -> (10.9765, -8.5) projected
  arc A1 (23.4765, -35.5) -> (23.4765, -8.5) centre (20.9765, -22) ccw projected
  line L25 (23.4765, -35.5) -> (10.9765, -35.5) projected
  point P0 (20.9765, -22)
  dimension "d122" = 4
  dimension "d123" = 1
  dimension "d124" = 0
extrude "Extrusion22" cut sketch "Sketch23" against normal through all contours A0 L11 | L11 A0
sketch "Sketch24" plane through (-12.9765, 23.4294, 22) normal (0, 0, 1) x (1, 0, 0)
  line L0 (-8, 17.5) -> (35, 17.5) projected
  line L1 (-8, 17.5) -> (-8, 8.8) projected
  line L2 (-8, 8.8) -> (-5, 8.8) projected
  line L3 (-5, 8.8) -> (-5, -5.2294) projected
  line L4 (-5, -5.2294) -> (-2, -5.2294) projected
  line L5 (-2, -5.2294) -> (-2, 2.5) projected
  line L6 (0, 2.5) -> (-2, 2.5) projected
  line L7 (0, 0) -> (0, 2.5) projected
  line L8 (28, 0) -> (0, 0) projected
  line L9 (28, 2.5) -> (28, 0) projected
  line L10 (30, 2.5) -> (28, 2.5) projected
  line L11 (30, 0) -> (30, 2.5) projected
  line L12 (35, 0) -> (30, 0) projected
  line L13 (35, 17.5) -> (35, 0) projected
  line L14 (-2, 3) -> (-2, 9.75) projected
  line L15 (0, 9.75) -> (-2, 9.75) projected
  line L16 (0, 7.25) -> (0, 9.75) projected
  line L17 (28, 7.25) -> (0, 7.25) projected
  line L18 (28, 9.75) -> (28, 7.25) projected
  line L19 (30, 9.75) -> (28, 9.75) projected
  line L20 (30, 3) -> (30, 9.75) projected
  line L21 (-2, 3) -> (30, 3) projected
  line L22 (0, 17) -> (-2, 17) projected
  line L23 (0, 14.5) -> (0, 17) projected
  line L24 (28, 14.5) -> (0, 14.5) projected
  line L25 (28, 17) -> (28, 14.5) projected
  line L26 (30, 17) -> (28, 17) projected
  line L27 (30, 10.25) -> (30, 17) projected
  line L28 (-2, 10.25) -> (30, 10.25) projected
  line L29 (-2, 10.25) -> (-2, 17) projected
  line L30 (-5, -5.2294) -> (-2, -5.2294) projected
  line L31 (-5, 8.8) -> (-5, -5.2294) projected
  line L32 (-2, -5.2294) -> (-5, -5.2294)
  line L33 (-5, -5.2294) -> (-5, 2.5)
  line L34 (-5, 2.5) -> (-2, 2.5)
  line L35 (-2, 2.5) -> (-2, -5.2294)
  point P0 (12.9765, -23.4294)
extrude "Extrusion23" cut sketch "Sketch24" against normal through all contours L34 L5 L4 L3
sketch "Sketch25" plane through (24.0946, 23.4294, 9.9289) normal (-1, 0, 0) x (0, 0, 1)
  line L0 (-8.1969, 17.5) -> (-8.1969, 0) projected
  line L1 (-11.661, 0) -> (-11.661, 17.5) projected
  line L2 (-6.4289, 16.6633) -> (-13.4289, 16.6633)
  line L3 (-13.4289, 16.6633) -> (-13.4289, 13.6633)
  line L4 (-13.4289, 13.6633) -> (-6.4289, 13.6633)
  line L5 (-6.4289, 13.6633) -> (-6.4289, 16.6633)
  line L6 (-6.4289, 16.6633) -> (-13.4289, 13.6633) construction
  line L7 (-13.4289, 16.6633) -> (-6.4289, 13.6633) construction
  point P0 (-9.9289, -23.4294)
  point P1 (-9.9289, 15.1633)
  dimension "d129" = 7
  dimension "d130" = 3
extrude "Extrusion24" cut sketch "Sketch25" against normal through all
properties part number "cellSTORM_v5_focussingunit_1"
